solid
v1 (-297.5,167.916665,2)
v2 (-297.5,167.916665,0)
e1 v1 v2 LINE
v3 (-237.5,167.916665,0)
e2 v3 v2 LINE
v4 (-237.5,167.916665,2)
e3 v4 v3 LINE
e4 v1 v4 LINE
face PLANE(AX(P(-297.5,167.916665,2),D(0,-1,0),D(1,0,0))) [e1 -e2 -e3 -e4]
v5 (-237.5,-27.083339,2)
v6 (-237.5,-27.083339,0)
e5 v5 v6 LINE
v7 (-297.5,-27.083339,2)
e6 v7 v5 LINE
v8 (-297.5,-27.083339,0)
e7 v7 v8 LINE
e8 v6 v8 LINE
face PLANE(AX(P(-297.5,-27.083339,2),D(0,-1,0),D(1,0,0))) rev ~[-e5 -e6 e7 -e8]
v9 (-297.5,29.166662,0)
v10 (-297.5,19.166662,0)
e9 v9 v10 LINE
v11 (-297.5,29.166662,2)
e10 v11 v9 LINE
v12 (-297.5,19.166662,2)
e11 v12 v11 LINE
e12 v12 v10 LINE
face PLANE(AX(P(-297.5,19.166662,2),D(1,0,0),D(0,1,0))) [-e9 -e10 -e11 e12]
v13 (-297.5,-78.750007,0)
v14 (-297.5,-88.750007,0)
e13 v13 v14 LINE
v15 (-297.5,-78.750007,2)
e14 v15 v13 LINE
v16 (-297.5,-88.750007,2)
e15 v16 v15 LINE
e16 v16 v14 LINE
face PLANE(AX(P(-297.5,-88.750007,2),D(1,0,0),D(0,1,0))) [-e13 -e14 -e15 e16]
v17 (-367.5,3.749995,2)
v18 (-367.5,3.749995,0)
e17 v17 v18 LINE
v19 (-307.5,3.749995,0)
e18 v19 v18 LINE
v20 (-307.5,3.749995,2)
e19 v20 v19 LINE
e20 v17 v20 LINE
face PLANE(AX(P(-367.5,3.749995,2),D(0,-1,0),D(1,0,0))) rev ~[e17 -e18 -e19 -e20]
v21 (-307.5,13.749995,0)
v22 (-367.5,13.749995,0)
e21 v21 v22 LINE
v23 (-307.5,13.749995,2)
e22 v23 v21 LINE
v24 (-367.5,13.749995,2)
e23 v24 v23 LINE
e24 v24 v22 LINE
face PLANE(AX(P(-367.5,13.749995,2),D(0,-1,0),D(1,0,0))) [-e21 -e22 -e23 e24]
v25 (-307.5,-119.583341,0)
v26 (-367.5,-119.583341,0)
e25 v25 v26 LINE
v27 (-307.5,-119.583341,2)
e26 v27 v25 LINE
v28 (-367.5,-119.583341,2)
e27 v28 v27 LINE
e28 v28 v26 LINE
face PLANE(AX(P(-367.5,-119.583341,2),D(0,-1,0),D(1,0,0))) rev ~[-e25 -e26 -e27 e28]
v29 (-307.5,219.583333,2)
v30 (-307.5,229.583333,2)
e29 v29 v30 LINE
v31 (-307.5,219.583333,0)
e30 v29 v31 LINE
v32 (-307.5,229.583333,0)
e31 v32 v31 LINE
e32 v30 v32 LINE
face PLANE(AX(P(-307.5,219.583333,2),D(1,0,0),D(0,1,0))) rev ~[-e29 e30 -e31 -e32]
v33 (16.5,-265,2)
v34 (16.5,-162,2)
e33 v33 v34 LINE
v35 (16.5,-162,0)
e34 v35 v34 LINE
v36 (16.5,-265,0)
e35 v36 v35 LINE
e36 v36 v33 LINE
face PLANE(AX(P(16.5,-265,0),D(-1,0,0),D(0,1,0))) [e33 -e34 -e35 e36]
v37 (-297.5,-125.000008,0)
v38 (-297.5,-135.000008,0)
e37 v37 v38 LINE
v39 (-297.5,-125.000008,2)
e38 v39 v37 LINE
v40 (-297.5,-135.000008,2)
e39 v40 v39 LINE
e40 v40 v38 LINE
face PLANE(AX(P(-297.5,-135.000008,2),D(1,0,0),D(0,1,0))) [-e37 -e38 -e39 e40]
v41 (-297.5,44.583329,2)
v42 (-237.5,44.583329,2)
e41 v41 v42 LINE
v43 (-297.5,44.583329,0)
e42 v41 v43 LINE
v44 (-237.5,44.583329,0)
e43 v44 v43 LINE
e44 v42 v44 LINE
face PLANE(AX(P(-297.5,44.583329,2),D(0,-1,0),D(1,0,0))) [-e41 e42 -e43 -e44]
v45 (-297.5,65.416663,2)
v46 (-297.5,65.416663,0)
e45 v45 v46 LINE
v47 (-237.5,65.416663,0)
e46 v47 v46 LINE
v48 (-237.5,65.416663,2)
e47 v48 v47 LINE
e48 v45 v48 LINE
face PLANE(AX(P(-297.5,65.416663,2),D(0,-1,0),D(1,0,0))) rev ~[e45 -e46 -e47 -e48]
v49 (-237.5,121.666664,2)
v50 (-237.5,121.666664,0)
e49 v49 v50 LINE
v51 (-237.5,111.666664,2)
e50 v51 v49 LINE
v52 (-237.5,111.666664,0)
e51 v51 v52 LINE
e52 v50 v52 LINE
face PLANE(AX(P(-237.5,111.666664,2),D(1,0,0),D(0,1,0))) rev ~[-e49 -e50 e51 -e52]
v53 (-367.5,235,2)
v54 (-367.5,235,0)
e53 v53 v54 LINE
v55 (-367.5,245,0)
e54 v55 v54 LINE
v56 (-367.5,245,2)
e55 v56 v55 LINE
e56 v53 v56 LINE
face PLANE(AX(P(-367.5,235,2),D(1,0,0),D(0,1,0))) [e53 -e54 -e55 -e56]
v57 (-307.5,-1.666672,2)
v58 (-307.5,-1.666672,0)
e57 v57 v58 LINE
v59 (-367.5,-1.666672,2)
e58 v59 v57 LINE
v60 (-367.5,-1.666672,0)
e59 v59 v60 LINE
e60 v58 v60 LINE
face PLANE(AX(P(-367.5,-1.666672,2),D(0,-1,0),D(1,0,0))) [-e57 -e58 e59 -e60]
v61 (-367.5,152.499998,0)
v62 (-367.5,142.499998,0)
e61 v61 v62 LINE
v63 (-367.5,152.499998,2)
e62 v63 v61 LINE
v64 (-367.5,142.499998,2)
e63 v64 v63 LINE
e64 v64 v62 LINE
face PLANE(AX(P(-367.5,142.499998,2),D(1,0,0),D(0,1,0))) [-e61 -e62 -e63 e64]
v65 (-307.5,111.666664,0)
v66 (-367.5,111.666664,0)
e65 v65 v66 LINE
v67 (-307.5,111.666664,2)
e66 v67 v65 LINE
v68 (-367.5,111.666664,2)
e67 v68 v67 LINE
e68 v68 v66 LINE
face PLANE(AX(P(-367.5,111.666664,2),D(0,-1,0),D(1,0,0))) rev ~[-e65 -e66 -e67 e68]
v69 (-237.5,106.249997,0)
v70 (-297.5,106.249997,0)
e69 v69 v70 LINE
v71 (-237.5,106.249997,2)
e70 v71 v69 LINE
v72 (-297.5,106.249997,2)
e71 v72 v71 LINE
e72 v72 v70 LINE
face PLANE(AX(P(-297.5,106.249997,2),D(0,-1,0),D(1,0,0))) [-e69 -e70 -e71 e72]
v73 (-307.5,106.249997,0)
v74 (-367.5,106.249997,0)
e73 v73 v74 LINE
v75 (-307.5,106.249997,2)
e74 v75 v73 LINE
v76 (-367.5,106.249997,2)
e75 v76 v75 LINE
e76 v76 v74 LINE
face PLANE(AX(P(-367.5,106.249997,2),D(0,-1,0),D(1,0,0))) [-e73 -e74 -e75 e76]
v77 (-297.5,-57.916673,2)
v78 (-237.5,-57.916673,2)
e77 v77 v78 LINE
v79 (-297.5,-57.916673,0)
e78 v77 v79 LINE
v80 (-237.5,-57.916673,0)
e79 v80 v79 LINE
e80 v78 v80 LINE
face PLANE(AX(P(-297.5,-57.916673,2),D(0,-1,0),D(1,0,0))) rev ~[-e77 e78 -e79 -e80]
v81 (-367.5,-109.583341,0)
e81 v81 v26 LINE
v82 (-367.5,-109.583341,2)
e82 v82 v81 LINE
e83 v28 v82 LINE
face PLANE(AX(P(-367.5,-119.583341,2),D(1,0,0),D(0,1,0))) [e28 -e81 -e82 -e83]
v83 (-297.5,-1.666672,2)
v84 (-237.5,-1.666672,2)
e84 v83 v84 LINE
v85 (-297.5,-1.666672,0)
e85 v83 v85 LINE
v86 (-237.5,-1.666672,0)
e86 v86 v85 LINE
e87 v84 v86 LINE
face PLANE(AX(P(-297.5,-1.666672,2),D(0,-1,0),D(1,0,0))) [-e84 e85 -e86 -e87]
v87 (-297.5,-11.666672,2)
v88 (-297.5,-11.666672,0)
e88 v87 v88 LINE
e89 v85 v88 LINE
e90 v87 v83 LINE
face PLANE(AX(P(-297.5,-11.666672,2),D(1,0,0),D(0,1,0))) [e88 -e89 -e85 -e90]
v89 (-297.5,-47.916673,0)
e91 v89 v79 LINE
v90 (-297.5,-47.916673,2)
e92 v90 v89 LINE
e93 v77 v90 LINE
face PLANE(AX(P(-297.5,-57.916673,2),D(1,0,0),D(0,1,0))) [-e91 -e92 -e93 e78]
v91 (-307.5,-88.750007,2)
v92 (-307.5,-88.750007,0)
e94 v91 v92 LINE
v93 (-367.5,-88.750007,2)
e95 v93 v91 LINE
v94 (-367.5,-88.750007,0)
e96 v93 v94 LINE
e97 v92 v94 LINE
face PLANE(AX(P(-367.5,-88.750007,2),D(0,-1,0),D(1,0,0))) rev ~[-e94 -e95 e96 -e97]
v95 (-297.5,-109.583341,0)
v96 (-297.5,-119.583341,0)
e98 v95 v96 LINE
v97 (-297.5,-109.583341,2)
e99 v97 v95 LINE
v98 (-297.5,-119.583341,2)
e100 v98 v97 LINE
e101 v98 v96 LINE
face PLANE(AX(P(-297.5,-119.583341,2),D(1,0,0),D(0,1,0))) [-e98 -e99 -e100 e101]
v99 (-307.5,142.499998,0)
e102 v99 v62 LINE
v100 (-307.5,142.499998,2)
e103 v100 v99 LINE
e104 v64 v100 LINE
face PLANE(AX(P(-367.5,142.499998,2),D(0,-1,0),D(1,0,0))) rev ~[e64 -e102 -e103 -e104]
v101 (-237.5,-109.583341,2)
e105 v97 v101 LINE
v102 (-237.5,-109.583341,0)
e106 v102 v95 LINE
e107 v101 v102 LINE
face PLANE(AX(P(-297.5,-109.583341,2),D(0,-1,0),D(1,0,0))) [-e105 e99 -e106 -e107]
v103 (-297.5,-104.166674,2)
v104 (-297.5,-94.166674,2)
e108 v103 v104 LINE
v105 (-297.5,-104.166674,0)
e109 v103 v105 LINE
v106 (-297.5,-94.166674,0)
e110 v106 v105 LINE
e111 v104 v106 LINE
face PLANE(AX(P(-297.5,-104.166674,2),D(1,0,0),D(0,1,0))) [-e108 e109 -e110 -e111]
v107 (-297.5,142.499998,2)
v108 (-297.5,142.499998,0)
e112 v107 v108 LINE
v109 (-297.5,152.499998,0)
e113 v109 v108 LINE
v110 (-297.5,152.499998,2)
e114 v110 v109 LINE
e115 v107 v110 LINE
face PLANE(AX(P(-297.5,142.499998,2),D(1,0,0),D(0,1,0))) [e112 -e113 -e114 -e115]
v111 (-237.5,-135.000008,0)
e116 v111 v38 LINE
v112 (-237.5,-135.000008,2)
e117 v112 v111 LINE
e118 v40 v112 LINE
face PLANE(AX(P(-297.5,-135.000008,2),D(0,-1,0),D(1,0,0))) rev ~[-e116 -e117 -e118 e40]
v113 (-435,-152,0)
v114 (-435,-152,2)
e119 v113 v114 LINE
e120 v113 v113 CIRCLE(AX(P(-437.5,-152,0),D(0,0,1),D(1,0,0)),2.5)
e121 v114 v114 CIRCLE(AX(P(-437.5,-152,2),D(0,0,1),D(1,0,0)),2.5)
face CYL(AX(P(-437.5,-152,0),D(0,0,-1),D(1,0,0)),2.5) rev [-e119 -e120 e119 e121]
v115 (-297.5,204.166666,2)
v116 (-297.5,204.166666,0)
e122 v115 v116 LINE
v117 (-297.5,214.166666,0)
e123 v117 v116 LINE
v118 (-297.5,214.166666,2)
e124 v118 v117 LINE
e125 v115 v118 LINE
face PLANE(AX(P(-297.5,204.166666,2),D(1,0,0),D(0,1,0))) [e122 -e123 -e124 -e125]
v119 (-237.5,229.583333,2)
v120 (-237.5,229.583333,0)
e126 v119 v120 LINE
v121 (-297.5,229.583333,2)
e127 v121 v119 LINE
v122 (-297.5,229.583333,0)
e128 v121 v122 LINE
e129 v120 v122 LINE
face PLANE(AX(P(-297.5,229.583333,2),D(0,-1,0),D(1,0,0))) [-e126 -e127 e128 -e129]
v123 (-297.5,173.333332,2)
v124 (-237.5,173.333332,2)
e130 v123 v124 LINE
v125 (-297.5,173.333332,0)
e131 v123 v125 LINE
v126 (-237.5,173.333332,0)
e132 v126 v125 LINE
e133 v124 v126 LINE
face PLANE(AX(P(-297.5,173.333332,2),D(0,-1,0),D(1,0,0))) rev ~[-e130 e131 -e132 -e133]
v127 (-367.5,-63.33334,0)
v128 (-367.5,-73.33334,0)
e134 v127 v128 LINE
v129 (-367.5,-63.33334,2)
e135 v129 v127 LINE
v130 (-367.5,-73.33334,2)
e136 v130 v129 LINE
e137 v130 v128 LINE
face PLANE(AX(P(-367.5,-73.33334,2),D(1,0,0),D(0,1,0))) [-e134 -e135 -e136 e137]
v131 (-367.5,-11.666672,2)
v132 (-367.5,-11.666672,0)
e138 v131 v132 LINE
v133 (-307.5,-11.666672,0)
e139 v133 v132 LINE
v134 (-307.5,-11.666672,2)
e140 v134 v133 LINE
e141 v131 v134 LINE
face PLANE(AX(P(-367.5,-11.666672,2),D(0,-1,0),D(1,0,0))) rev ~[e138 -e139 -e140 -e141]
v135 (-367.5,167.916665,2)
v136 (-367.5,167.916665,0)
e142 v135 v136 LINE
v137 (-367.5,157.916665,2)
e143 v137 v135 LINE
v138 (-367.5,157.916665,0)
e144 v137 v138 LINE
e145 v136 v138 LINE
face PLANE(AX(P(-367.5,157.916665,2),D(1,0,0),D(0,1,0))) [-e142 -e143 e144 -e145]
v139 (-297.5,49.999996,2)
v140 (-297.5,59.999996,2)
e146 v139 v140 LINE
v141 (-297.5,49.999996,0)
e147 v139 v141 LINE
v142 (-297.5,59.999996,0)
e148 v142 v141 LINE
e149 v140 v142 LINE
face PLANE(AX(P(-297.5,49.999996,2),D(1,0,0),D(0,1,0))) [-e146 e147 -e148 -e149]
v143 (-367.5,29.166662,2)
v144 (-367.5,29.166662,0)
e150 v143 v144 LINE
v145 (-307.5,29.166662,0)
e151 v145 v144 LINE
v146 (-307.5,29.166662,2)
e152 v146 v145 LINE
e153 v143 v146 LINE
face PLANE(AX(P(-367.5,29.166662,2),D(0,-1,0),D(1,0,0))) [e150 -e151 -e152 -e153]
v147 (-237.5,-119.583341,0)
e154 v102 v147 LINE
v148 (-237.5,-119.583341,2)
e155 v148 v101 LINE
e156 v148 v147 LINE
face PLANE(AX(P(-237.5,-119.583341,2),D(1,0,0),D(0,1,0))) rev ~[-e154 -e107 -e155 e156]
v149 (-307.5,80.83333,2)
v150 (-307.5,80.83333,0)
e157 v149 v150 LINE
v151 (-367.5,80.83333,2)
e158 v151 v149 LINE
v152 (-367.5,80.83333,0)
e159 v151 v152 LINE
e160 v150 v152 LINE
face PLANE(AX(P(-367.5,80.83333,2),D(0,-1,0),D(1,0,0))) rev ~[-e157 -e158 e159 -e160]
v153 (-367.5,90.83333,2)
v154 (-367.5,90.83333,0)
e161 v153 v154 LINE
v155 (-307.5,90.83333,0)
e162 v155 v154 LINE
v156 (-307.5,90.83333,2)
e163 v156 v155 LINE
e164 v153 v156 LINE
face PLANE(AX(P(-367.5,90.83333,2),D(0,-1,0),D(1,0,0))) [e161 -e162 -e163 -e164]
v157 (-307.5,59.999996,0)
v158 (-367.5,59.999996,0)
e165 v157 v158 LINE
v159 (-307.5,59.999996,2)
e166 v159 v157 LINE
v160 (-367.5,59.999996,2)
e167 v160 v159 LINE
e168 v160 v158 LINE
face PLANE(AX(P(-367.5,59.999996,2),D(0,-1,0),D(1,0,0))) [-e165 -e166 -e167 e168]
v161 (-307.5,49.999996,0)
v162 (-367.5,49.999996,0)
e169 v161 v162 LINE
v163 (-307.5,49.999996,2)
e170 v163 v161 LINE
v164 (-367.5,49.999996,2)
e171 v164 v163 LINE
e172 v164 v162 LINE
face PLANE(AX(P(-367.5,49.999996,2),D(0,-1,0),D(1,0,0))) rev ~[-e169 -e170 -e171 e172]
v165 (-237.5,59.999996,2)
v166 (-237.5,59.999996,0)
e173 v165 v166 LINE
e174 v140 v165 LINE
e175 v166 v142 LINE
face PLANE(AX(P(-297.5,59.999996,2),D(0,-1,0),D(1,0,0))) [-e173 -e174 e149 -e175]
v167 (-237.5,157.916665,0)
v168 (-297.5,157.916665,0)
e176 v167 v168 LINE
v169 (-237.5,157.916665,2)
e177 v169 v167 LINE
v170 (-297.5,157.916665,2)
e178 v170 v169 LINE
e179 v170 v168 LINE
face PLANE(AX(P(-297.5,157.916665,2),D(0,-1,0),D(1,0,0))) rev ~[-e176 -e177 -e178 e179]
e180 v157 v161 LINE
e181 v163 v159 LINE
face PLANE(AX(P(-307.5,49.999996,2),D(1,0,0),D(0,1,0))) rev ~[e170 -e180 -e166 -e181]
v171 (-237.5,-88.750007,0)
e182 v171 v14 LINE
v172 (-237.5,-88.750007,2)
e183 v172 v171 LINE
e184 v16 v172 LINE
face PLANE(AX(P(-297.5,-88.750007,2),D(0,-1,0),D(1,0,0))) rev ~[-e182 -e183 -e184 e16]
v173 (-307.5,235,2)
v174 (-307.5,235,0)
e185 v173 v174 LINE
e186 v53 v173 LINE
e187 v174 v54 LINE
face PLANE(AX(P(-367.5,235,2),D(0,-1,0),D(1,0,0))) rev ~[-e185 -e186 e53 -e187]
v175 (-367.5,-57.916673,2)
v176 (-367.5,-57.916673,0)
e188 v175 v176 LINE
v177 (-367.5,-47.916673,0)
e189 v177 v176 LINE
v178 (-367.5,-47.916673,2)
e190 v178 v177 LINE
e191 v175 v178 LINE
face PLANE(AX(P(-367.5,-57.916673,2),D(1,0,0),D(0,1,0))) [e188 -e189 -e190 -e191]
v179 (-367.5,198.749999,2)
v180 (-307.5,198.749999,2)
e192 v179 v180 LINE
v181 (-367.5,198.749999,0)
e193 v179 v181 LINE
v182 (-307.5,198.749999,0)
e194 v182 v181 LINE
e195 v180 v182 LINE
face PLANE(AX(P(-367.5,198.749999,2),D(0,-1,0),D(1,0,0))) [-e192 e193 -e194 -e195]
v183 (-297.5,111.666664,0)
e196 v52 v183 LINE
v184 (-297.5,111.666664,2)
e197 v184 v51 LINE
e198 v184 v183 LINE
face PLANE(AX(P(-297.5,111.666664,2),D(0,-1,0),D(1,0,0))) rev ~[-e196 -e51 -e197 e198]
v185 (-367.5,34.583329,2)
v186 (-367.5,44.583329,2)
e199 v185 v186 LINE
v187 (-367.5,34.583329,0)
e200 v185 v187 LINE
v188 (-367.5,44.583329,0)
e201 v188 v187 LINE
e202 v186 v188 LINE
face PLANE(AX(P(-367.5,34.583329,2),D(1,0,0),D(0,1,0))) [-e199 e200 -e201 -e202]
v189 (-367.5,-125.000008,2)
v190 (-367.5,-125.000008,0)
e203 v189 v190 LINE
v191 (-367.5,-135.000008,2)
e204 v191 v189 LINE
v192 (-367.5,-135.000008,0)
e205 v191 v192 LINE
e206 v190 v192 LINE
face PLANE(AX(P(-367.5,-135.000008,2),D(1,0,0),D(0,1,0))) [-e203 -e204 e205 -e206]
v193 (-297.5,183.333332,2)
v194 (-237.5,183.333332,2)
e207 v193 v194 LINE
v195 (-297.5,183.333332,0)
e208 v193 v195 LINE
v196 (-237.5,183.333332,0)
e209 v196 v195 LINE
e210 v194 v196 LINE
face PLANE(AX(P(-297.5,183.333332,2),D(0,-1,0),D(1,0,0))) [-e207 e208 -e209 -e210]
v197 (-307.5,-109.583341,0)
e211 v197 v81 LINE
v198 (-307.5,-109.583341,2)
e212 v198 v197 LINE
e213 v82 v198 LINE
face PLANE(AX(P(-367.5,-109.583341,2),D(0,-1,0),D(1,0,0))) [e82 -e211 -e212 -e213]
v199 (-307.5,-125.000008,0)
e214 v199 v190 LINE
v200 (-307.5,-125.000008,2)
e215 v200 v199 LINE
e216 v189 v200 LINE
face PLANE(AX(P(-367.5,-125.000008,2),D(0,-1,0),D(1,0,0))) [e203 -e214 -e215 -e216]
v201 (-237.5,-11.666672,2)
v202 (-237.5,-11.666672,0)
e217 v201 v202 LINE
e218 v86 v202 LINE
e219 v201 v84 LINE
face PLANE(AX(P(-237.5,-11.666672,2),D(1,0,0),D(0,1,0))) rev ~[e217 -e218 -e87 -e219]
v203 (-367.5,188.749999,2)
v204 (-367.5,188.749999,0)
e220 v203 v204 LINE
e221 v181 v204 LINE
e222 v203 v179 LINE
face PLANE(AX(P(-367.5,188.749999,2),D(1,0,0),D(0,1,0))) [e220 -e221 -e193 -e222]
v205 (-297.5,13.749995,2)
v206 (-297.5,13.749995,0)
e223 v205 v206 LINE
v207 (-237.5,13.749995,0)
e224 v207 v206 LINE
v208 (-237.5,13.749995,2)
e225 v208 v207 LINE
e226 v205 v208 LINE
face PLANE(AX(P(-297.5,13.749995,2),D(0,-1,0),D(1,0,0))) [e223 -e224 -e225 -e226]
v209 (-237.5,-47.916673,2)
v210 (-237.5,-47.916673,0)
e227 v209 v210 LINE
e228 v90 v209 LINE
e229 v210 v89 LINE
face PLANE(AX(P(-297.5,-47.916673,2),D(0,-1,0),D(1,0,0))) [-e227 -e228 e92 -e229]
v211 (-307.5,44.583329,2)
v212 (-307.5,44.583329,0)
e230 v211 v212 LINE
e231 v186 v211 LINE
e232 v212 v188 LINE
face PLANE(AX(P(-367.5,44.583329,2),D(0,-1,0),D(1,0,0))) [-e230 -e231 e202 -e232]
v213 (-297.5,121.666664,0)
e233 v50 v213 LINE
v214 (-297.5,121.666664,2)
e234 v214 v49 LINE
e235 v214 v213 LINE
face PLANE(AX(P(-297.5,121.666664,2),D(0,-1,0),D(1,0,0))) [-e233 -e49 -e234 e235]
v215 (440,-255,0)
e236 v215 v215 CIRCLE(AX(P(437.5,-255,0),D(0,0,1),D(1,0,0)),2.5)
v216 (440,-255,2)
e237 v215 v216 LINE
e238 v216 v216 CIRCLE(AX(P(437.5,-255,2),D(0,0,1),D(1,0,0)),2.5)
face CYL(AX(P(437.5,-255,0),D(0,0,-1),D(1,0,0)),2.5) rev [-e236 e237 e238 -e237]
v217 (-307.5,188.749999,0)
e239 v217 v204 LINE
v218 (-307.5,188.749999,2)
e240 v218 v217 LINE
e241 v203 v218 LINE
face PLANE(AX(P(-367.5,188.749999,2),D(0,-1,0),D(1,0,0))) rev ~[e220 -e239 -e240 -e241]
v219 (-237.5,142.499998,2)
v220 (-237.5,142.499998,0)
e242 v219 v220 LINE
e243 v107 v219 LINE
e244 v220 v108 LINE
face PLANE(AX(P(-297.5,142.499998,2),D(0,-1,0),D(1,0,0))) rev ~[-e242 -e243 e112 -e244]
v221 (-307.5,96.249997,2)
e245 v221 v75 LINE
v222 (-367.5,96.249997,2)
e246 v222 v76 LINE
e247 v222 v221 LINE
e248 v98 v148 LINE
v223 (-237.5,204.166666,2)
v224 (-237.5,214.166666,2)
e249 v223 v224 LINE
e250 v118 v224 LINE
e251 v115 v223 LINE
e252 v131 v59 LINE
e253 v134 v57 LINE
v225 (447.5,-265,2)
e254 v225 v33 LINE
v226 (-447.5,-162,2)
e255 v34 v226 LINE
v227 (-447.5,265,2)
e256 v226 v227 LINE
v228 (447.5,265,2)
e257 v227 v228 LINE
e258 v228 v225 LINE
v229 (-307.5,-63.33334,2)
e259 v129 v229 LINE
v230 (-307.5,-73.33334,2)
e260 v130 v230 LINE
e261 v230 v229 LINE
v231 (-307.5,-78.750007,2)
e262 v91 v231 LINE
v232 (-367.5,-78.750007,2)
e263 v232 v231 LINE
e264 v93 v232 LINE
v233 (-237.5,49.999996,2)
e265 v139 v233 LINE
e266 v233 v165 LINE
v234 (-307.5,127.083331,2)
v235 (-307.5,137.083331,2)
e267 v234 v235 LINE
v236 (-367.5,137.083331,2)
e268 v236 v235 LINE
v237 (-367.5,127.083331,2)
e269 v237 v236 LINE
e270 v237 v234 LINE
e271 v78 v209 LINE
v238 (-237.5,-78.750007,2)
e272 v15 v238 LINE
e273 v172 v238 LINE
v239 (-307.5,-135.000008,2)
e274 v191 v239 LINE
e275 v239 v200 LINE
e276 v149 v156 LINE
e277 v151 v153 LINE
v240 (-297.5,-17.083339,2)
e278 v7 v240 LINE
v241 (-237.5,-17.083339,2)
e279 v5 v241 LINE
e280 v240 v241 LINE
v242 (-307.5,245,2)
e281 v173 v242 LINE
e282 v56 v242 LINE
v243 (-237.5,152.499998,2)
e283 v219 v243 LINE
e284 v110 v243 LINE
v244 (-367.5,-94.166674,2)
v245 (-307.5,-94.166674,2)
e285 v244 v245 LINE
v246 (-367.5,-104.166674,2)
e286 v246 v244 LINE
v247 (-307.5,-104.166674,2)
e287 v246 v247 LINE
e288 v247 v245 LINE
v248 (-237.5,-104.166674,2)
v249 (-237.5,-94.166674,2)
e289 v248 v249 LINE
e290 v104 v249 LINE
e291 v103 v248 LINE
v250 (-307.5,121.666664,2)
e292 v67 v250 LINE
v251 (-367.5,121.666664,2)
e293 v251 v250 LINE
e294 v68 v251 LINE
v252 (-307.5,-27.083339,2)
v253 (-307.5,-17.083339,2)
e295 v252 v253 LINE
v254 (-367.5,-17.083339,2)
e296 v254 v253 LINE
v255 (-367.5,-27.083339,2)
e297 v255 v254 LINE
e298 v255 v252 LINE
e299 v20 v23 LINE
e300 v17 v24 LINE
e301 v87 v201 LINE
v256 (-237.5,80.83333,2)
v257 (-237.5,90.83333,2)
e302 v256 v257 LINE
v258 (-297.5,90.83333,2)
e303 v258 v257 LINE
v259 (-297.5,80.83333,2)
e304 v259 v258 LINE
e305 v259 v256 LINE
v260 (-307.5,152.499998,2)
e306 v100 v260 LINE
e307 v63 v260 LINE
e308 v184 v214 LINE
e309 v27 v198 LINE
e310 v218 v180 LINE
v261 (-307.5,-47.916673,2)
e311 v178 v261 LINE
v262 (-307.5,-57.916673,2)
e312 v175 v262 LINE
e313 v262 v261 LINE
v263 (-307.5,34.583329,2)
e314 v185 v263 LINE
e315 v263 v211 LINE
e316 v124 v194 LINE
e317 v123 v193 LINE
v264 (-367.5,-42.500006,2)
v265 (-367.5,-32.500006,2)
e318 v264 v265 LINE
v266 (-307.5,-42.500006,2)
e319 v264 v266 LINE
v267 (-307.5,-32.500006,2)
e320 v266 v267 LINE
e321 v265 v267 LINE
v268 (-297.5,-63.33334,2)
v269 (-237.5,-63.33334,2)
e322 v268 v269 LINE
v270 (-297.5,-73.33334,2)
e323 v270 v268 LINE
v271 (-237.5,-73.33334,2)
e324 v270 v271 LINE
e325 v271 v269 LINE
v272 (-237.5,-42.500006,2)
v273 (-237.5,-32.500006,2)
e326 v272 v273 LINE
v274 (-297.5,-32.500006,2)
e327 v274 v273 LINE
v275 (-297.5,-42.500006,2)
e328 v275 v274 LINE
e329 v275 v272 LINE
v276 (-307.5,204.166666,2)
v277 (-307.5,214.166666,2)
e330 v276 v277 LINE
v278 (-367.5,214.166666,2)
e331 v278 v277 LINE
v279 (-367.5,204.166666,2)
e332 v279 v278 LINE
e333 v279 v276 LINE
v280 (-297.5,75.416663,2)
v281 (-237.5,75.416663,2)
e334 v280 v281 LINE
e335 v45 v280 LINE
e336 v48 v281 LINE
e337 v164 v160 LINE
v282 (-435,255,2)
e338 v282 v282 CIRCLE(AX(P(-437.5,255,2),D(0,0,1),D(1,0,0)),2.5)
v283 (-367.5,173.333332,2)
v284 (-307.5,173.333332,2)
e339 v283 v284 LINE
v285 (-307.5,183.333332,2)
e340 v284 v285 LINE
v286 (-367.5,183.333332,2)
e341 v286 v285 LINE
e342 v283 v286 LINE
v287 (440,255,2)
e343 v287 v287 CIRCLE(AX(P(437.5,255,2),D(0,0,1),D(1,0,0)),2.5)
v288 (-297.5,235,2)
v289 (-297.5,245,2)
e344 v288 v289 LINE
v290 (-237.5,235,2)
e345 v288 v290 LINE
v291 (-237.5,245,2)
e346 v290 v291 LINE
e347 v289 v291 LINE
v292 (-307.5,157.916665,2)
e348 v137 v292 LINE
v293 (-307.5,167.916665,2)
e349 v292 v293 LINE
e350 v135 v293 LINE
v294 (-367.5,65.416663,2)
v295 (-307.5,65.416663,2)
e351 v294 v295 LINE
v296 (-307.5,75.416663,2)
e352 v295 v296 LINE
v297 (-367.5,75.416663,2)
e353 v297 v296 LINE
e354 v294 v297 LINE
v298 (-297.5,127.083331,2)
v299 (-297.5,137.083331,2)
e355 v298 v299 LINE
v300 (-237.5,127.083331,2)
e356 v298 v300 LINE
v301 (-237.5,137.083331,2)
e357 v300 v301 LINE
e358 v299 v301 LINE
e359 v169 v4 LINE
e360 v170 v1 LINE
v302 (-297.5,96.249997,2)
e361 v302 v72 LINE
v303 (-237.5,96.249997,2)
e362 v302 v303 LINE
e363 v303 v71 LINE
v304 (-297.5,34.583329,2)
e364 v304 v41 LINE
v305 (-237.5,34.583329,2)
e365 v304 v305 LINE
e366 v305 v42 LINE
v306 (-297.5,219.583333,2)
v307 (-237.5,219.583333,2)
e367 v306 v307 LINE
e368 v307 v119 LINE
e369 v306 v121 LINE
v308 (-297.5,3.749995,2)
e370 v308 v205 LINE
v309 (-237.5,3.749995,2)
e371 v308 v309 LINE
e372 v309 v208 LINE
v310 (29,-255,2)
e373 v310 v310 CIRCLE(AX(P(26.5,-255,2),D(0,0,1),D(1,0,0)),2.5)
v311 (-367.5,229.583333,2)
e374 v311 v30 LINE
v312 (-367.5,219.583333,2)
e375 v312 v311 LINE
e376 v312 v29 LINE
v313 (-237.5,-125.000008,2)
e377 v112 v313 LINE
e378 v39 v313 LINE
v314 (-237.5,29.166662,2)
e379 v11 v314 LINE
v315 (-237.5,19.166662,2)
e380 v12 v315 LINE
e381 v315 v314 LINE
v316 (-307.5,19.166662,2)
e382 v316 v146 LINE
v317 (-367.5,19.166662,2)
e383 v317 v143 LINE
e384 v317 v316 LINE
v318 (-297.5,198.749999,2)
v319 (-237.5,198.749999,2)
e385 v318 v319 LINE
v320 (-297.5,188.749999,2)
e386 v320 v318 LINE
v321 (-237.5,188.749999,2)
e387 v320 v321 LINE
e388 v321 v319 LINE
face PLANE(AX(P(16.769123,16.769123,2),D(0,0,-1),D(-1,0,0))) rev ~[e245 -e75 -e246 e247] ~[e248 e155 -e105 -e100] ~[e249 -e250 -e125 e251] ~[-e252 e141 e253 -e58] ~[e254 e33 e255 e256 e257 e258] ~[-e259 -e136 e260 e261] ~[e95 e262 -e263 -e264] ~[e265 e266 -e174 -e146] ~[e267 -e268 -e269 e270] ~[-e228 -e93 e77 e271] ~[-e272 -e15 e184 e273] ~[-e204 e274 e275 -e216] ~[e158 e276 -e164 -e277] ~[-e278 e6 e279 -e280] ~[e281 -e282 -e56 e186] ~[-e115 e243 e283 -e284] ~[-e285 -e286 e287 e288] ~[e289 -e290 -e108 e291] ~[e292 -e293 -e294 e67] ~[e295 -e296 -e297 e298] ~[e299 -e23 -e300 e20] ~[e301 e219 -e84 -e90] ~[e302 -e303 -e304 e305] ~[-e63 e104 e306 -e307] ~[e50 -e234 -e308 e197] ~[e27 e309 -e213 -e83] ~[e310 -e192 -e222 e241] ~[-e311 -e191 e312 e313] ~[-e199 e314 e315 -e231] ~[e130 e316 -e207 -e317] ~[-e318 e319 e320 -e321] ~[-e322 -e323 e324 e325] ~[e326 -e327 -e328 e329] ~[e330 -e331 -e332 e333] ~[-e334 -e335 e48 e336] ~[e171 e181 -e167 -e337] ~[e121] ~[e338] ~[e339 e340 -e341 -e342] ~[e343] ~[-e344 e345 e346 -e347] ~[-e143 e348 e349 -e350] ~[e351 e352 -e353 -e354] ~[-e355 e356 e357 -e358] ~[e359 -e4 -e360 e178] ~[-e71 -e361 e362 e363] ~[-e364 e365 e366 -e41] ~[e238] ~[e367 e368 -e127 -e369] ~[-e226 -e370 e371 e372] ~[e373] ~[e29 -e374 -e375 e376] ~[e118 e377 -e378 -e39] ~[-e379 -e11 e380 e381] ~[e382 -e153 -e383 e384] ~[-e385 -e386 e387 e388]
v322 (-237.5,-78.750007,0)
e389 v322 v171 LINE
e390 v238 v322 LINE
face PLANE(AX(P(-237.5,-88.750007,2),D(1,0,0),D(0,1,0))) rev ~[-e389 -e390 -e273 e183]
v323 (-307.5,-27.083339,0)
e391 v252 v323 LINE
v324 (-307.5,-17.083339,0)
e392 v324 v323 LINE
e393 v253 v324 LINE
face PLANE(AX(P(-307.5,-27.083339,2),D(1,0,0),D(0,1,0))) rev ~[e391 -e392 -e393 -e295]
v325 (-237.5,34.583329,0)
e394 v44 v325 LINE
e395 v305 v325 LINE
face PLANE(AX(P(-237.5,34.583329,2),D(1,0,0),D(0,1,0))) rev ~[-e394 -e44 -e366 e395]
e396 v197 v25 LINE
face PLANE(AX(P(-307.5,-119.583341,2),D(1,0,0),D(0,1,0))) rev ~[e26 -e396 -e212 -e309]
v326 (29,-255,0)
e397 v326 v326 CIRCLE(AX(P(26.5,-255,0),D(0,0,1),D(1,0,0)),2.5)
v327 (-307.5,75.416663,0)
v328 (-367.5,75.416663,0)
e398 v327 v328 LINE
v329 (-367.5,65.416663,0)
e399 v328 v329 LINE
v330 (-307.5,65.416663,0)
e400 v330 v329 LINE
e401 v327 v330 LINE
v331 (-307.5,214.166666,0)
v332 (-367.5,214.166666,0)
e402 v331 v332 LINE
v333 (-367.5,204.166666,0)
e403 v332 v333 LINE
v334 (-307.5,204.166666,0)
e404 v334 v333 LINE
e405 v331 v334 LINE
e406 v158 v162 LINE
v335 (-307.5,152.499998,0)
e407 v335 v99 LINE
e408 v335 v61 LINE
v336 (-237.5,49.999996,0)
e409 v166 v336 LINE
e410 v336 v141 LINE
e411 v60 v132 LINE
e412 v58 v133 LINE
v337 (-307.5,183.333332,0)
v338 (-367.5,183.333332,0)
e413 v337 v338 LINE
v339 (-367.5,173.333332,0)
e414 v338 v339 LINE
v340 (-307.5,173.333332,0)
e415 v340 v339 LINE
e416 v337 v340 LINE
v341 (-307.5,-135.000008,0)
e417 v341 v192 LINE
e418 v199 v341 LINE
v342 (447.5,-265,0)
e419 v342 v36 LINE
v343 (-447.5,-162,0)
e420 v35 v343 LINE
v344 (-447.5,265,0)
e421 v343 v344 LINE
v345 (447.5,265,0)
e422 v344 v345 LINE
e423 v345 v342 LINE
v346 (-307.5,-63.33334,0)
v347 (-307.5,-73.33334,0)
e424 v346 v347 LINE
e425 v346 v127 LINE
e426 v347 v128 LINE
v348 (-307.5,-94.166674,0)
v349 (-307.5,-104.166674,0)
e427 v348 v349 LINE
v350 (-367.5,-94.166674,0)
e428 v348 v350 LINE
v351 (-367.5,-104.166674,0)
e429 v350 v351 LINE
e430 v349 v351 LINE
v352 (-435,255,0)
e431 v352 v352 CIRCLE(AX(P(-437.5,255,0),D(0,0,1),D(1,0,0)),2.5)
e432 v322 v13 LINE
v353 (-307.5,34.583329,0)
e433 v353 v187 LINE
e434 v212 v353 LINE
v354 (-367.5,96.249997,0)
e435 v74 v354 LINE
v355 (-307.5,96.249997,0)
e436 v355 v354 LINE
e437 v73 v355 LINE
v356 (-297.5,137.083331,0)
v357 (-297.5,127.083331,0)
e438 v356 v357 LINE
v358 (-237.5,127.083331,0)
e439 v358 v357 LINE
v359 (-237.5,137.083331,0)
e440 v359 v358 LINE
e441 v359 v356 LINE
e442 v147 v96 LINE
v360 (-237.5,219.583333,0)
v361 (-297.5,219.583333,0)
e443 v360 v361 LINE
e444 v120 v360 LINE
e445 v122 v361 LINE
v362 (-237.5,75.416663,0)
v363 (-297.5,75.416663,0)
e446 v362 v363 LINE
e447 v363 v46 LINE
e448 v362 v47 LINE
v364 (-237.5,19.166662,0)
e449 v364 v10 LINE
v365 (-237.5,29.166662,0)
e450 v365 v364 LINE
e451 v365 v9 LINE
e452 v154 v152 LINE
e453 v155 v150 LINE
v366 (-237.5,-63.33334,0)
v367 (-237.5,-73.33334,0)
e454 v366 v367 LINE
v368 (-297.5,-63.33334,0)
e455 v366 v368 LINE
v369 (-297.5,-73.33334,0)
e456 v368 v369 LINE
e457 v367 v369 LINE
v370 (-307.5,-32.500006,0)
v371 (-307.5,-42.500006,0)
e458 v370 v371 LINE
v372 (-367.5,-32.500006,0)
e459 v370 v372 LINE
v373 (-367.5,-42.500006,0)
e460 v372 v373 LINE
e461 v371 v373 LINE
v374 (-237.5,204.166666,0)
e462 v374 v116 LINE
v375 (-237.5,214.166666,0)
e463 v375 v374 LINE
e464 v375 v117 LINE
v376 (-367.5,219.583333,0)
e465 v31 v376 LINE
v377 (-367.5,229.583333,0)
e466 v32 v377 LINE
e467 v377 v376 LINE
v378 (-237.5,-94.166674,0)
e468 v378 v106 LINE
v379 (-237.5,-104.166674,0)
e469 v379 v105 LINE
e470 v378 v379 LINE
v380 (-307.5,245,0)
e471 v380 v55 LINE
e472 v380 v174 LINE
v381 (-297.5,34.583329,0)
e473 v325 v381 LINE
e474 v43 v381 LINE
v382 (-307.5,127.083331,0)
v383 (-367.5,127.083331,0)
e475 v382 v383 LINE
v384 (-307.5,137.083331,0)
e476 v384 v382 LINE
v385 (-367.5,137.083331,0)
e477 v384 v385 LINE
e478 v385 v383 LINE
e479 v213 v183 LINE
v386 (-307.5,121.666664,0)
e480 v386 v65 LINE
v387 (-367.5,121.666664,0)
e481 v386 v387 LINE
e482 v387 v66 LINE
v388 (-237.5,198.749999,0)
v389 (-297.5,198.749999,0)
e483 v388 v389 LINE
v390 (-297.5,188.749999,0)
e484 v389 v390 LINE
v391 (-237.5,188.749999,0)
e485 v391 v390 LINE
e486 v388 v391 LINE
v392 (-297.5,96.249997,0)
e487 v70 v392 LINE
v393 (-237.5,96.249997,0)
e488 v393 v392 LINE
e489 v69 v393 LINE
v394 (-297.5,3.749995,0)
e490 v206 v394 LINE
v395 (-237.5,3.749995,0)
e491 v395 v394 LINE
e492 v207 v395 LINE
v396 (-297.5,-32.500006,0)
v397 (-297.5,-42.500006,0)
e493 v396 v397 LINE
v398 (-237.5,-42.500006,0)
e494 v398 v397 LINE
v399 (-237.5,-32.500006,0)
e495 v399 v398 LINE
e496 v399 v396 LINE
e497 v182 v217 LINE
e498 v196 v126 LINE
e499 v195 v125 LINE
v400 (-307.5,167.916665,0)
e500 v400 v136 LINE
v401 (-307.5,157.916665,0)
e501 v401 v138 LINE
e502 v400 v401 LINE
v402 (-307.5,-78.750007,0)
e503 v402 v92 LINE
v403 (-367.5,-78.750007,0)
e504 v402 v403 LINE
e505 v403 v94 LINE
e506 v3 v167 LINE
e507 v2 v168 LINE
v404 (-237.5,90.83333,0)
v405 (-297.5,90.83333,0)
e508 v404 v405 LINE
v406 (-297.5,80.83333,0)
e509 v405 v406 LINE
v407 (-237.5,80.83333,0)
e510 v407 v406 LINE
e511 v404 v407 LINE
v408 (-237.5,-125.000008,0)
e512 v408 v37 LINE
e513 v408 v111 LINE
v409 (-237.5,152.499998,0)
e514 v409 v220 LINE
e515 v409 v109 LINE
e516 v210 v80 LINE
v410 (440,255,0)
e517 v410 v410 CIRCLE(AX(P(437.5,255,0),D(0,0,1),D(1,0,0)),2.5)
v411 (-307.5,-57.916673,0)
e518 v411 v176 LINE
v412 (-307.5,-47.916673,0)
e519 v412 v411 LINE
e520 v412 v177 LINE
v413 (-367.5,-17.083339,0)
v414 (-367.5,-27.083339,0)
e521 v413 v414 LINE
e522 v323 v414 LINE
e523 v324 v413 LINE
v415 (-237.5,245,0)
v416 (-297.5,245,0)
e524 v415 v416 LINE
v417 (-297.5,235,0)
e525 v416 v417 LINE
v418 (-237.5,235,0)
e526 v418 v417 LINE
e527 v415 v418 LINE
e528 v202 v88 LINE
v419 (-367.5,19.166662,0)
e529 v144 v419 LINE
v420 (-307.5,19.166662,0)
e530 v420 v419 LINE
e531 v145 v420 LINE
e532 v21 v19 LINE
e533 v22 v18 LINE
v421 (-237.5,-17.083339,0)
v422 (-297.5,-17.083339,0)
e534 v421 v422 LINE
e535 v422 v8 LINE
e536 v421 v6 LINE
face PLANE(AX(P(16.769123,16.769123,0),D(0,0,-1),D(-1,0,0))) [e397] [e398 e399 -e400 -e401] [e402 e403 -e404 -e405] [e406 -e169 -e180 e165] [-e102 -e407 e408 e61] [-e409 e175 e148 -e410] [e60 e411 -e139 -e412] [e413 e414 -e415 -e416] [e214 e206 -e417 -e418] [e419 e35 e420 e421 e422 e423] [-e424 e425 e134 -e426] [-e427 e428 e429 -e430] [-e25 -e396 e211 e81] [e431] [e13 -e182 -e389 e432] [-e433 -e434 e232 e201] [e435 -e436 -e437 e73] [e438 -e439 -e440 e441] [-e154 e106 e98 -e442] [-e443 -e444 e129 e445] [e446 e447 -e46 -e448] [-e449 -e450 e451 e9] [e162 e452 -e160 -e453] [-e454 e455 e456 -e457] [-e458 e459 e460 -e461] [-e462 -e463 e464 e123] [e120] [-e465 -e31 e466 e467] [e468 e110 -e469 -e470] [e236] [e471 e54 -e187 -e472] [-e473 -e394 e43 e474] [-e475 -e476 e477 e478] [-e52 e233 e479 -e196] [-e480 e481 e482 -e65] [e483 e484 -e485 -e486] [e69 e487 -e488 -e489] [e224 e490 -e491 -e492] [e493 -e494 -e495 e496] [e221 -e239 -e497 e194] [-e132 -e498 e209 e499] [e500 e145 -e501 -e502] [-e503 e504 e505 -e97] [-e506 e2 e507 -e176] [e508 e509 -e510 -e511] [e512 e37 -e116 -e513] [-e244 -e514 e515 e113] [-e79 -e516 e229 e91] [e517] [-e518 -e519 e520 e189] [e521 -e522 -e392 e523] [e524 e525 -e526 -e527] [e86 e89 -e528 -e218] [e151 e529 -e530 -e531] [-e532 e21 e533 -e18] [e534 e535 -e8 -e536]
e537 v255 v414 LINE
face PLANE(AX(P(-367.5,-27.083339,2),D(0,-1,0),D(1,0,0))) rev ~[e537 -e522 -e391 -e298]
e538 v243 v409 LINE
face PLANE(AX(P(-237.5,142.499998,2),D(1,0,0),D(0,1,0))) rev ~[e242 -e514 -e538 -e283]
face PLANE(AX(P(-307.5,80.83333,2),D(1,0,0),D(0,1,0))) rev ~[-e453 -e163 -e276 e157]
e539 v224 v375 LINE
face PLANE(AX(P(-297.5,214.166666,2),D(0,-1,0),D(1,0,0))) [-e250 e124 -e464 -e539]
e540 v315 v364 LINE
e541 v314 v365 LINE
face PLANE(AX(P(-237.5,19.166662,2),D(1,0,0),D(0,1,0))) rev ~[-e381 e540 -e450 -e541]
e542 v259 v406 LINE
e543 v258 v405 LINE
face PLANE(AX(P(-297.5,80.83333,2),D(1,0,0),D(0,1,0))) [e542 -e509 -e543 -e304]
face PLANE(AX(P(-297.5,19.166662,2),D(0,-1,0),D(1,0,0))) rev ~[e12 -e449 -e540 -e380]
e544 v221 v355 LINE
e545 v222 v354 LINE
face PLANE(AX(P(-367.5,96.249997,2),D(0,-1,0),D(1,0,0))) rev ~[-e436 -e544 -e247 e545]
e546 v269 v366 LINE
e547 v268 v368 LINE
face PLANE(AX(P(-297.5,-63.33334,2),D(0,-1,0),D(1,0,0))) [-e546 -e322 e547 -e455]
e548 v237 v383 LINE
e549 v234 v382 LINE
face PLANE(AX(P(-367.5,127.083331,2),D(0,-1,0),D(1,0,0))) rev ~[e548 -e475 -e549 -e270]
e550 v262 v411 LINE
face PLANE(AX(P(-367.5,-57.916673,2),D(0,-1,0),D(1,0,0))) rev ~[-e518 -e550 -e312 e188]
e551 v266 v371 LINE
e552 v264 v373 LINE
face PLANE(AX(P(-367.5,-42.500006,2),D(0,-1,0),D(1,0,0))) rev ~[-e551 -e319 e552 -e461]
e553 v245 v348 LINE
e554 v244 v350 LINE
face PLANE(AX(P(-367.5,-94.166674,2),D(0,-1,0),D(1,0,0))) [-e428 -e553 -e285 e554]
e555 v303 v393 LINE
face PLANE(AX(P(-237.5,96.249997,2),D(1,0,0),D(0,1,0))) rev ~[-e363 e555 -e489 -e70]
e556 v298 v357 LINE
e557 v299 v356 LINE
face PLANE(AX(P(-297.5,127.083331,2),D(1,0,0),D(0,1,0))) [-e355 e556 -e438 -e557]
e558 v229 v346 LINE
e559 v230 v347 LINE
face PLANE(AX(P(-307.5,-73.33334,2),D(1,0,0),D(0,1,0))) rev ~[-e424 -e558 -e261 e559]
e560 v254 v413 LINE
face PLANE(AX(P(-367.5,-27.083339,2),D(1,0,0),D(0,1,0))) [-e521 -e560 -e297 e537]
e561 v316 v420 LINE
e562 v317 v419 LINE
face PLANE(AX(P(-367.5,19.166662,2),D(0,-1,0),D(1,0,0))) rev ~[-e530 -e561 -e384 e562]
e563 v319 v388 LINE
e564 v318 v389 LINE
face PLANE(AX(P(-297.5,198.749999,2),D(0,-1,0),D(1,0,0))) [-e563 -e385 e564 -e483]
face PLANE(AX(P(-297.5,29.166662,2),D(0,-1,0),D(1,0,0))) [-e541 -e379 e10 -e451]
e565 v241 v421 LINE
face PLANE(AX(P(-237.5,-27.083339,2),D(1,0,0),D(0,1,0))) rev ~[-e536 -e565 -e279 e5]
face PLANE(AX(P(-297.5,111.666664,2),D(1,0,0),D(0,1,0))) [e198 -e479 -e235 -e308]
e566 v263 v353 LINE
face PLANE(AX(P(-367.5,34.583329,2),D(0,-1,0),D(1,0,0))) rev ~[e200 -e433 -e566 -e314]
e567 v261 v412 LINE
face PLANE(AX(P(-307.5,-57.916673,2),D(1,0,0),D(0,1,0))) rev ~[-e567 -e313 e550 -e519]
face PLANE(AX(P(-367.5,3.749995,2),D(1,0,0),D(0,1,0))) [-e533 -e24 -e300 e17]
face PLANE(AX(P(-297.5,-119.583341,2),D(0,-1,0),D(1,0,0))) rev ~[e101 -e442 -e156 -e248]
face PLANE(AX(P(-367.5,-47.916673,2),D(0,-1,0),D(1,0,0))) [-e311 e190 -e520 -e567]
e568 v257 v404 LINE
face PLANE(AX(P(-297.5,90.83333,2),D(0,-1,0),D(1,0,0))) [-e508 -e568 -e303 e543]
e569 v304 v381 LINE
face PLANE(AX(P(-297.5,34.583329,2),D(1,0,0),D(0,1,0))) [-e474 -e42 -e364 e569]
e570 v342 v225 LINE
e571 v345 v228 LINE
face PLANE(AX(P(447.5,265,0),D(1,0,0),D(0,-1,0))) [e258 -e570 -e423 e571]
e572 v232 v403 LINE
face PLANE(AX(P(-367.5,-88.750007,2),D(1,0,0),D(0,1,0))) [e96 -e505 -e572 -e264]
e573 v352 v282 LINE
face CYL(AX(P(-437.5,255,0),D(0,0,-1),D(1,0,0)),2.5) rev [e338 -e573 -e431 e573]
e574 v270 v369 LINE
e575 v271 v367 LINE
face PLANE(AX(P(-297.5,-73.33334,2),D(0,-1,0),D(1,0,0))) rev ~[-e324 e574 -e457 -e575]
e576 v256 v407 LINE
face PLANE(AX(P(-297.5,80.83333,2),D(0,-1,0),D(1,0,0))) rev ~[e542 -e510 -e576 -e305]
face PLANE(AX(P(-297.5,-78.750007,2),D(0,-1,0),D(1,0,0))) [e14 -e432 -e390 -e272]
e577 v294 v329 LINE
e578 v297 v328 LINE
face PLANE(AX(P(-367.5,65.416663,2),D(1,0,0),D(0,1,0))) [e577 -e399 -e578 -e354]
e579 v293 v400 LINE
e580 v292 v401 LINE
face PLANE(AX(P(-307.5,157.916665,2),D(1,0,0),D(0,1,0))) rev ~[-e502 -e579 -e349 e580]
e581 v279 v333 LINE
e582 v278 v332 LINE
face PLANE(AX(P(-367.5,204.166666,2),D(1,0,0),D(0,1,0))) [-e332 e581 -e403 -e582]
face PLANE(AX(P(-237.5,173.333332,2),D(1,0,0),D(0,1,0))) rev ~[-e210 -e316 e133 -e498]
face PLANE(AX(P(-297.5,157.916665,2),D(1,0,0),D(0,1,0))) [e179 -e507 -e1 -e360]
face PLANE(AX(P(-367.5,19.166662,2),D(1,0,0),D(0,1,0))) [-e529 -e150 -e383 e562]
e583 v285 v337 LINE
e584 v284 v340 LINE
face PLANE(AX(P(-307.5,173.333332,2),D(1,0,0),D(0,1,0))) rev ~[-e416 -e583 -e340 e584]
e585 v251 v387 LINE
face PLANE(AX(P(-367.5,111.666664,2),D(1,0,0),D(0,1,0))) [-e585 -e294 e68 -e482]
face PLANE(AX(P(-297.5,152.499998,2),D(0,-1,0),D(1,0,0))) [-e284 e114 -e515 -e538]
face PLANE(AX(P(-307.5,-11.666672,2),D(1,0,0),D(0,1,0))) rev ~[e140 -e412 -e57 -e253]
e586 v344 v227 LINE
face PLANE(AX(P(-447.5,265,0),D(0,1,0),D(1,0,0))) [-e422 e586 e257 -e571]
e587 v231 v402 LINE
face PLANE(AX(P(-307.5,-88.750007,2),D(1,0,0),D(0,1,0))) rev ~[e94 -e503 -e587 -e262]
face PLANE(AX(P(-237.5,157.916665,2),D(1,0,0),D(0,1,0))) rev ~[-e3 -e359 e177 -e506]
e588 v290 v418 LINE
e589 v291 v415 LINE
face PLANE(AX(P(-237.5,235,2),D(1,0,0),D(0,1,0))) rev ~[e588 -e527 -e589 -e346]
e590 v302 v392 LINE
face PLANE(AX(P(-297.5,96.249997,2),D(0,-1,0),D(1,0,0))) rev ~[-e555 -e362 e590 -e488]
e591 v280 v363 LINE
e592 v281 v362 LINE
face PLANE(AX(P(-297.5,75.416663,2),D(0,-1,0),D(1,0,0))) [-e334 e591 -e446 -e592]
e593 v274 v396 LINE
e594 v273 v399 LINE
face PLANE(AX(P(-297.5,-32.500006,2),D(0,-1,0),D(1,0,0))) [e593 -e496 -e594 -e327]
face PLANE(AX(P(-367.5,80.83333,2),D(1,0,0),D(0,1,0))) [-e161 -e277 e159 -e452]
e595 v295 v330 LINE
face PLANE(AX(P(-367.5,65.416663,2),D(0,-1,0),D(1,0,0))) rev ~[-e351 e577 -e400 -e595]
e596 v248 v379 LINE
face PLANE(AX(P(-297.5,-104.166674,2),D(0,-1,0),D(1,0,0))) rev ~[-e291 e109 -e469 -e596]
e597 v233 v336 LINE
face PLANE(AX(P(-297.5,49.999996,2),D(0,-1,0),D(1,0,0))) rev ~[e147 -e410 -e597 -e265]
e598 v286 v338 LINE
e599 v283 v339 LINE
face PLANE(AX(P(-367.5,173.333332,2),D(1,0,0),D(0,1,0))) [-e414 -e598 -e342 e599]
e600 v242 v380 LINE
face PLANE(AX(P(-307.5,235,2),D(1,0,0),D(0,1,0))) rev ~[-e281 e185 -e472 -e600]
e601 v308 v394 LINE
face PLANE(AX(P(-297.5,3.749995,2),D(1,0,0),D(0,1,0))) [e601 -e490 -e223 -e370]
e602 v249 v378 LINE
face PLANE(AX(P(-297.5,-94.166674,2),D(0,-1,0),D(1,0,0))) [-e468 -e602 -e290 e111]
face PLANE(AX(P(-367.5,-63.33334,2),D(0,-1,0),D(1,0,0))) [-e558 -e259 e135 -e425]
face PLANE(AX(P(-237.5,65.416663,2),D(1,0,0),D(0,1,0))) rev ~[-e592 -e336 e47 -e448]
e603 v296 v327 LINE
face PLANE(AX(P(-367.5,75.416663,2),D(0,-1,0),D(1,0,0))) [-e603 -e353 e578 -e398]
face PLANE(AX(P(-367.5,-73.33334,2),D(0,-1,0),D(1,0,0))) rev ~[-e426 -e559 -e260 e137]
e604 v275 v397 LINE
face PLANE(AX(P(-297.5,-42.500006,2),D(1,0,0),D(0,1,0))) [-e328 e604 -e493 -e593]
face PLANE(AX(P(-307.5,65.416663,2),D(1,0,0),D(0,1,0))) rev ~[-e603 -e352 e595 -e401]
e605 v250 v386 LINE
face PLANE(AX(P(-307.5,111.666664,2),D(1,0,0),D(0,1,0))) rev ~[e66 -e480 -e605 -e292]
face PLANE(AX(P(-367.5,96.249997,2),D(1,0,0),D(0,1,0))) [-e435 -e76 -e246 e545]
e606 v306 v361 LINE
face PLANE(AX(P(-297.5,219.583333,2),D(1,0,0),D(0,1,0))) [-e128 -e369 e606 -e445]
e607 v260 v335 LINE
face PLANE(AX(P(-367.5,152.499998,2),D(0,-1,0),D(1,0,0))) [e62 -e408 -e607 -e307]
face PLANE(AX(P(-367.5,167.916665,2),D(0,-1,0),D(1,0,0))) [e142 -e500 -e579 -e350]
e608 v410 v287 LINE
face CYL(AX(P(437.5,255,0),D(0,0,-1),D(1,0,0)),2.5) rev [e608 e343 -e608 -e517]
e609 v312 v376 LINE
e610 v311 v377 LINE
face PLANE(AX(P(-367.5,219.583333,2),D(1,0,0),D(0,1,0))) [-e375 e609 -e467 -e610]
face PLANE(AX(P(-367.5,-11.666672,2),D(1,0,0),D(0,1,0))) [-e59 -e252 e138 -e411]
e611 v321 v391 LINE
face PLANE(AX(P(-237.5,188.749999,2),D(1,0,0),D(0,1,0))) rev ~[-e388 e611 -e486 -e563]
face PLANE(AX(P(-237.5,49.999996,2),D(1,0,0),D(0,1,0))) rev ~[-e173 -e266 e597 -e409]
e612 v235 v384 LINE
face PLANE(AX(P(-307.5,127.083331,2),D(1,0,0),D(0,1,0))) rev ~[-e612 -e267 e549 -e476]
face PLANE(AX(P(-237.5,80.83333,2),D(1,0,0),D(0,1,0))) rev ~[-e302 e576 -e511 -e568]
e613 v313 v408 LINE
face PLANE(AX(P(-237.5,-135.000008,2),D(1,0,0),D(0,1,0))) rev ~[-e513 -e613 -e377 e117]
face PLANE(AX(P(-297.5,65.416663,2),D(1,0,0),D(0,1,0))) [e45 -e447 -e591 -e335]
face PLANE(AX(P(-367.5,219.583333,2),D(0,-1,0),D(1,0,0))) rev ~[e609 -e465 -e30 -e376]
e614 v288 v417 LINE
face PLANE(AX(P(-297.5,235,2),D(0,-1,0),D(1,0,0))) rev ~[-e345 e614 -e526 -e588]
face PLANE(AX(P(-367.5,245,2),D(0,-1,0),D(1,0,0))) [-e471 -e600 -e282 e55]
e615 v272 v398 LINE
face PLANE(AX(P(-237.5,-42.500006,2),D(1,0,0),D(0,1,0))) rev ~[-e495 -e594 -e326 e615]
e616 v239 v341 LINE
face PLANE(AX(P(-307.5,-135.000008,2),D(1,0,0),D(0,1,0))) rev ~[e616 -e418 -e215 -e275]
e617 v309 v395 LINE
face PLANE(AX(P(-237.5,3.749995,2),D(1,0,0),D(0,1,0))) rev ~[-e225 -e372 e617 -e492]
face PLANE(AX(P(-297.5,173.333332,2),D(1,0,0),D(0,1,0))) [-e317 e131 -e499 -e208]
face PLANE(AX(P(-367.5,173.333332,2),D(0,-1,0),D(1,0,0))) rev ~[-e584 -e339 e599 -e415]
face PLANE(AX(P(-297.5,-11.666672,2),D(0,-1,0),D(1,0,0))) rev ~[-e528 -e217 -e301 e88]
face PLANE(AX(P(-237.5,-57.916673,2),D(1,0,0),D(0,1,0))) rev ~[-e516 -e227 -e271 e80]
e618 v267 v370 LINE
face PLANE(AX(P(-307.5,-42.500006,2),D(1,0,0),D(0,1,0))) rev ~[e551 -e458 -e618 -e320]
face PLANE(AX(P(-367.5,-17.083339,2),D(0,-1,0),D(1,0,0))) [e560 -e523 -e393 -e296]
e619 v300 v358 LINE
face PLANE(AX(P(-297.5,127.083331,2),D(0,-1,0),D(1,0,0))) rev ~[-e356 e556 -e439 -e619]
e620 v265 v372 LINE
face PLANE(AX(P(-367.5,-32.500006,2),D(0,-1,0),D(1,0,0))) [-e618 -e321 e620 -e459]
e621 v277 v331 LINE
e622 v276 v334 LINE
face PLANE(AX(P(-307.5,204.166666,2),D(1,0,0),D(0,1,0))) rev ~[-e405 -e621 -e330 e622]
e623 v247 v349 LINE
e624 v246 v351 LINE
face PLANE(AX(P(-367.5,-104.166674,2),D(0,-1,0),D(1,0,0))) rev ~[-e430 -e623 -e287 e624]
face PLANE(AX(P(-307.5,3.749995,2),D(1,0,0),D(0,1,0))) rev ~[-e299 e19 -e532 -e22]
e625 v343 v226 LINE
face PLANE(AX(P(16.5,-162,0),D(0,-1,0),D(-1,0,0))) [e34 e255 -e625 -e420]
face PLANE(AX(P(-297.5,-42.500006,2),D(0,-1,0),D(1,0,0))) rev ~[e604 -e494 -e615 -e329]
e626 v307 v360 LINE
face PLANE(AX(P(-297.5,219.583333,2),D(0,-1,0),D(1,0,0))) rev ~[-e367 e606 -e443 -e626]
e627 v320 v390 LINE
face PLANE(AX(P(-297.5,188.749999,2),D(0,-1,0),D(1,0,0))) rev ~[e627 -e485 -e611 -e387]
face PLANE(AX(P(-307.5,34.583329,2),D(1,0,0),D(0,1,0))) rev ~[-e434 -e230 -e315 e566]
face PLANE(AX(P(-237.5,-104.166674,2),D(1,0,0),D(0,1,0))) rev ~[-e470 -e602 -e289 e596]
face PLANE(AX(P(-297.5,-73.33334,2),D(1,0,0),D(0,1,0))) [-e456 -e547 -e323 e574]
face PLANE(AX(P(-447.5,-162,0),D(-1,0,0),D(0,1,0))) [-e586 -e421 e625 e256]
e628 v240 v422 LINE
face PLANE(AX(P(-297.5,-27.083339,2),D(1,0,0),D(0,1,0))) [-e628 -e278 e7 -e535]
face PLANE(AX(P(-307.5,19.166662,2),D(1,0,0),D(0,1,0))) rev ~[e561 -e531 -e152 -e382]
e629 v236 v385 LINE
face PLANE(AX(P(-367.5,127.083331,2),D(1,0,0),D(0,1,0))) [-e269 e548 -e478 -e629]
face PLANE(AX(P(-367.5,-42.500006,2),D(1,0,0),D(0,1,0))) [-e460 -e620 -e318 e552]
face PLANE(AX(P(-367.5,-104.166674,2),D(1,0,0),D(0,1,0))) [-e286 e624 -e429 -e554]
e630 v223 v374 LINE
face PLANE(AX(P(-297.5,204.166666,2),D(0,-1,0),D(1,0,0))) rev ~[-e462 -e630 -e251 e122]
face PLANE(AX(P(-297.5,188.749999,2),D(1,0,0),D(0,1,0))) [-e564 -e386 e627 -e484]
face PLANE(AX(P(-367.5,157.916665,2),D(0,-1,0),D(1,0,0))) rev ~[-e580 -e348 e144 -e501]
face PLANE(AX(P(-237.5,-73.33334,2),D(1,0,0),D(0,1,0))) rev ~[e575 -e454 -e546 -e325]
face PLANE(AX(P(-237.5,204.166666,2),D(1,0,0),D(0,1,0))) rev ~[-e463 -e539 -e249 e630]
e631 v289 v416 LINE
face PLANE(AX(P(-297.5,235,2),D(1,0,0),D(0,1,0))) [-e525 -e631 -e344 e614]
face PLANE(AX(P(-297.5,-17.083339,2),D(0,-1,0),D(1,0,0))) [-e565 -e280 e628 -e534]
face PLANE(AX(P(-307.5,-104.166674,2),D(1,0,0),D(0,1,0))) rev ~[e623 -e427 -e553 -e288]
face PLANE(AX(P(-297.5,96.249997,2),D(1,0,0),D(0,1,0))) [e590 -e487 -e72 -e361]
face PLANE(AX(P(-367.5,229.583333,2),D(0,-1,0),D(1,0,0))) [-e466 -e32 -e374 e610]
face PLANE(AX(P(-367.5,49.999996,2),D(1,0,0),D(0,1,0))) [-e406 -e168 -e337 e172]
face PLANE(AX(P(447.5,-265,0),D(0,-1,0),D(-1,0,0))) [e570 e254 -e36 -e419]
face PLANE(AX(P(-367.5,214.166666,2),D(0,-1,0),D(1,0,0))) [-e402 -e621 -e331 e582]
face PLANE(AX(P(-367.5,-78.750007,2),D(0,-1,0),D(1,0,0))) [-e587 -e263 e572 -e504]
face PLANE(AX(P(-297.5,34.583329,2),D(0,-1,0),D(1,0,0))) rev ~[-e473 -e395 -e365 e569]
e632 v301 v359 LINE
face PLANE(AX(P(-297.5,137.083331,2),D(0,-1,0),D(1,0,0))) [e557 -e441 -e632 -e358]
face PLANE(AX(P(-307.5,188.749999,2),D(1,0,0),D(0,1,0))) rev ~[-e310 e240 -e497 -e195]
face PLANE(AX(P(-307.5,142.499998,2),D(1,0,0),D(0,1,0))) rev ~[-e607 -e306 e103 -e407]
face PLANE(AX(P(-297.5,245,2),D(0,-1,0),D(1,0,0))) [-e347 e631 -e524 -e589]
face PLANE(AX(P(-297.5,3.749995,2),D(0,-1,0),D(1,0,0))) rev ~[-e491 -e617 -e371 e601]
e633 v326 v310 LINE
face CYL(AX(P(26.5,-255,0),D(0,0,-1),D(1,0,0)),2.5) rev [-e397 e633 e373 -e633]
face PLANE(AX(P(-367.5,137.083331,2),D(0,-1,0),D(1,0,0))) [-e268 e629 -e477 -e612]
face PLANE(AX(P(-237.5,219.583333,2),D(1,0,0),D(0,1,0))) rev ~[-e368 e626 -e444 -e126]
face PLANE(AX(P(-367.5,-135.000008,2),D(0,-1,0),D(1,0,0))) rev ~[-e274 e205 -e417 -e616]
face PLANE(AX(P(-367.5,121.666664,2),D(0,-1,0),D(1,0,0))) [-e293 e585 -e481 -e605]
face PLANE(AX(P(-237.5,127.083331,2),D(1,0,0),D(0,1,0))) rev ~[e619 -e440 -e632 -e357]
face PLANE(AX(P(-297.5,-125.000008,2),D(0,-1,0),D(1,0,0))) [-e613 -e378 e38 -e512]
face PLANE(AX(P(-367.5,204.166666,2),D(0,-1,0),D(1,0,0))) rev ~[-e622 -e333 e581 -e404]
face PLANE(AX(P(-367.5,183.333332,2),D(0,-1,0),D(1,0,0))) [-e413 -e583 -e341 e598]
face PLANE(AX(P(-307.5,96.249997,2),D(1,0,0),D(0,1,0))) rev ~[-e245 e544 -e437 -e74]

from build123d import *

# Parameters (mm, degrees)
SKETCH_R            = 2.5
PAD_DEPTH           = 2
SKETCH001_W         = 60
SKETCH001_H         = 10
POCKET_DEPTH        = 5
LINEARPATTERN_COUNT = 25
LINEARPATTERN_PITCH = 15.416667


with BuildPart() as part:
    # Sketch → Pad (new body)
    with BuildSketch(Plane.XY):
        Polygon((16.5, -162), (-447.5, -162), (-447.5, 265), (447.5, 265), (447.5, -265), (16.5, -265), align=None)
        with Locations((-437.5, 255)):
            Circle(SKETCH_R, mode=Mode.SUBTRACT)
        with Locations((-437.5, -152)):
            Circle(SKETCH_R, mode=Mode.SUBTRACT)
        with Locations((26.5, -255)):
            Circle(SKETCH_R, mode=Mode.SUBTRACT)
        with Locations((437.5, -255)):
            Circle(SKETCH_R, mode=Mode.SUBTRACT)
        with Locations((437.5, 255)):
            Circle(SKETCH_R, mode=Mode.SUBTRACT)
    extrude(amount=PAD_DEPTH)

    # Sketch001 → Pocket (cut)
    with BuildSketch(Plane.XY.offset(2)):
        with Locations((-337.5, 240)):
            Rectangle(SKETCH001_W, SKETCH001_H)
        with Locations((-267.5, 240)):
            Rectangle(SKETCH001_W, SKETCH001_H)
    pocket = extrude(amount=-POCKET_DEPTH, mode=Mode.SUBTRACT)

    # LinearPattern: Pocket ×25
    with Locations(*[(0, -i * LINEARPATTERN_PITCH, 0) for i in range(1, LINEARPATTERN_COUNT)]):
        add(pocket, mode=Mode.SUBTRACT)


solid = part.part
